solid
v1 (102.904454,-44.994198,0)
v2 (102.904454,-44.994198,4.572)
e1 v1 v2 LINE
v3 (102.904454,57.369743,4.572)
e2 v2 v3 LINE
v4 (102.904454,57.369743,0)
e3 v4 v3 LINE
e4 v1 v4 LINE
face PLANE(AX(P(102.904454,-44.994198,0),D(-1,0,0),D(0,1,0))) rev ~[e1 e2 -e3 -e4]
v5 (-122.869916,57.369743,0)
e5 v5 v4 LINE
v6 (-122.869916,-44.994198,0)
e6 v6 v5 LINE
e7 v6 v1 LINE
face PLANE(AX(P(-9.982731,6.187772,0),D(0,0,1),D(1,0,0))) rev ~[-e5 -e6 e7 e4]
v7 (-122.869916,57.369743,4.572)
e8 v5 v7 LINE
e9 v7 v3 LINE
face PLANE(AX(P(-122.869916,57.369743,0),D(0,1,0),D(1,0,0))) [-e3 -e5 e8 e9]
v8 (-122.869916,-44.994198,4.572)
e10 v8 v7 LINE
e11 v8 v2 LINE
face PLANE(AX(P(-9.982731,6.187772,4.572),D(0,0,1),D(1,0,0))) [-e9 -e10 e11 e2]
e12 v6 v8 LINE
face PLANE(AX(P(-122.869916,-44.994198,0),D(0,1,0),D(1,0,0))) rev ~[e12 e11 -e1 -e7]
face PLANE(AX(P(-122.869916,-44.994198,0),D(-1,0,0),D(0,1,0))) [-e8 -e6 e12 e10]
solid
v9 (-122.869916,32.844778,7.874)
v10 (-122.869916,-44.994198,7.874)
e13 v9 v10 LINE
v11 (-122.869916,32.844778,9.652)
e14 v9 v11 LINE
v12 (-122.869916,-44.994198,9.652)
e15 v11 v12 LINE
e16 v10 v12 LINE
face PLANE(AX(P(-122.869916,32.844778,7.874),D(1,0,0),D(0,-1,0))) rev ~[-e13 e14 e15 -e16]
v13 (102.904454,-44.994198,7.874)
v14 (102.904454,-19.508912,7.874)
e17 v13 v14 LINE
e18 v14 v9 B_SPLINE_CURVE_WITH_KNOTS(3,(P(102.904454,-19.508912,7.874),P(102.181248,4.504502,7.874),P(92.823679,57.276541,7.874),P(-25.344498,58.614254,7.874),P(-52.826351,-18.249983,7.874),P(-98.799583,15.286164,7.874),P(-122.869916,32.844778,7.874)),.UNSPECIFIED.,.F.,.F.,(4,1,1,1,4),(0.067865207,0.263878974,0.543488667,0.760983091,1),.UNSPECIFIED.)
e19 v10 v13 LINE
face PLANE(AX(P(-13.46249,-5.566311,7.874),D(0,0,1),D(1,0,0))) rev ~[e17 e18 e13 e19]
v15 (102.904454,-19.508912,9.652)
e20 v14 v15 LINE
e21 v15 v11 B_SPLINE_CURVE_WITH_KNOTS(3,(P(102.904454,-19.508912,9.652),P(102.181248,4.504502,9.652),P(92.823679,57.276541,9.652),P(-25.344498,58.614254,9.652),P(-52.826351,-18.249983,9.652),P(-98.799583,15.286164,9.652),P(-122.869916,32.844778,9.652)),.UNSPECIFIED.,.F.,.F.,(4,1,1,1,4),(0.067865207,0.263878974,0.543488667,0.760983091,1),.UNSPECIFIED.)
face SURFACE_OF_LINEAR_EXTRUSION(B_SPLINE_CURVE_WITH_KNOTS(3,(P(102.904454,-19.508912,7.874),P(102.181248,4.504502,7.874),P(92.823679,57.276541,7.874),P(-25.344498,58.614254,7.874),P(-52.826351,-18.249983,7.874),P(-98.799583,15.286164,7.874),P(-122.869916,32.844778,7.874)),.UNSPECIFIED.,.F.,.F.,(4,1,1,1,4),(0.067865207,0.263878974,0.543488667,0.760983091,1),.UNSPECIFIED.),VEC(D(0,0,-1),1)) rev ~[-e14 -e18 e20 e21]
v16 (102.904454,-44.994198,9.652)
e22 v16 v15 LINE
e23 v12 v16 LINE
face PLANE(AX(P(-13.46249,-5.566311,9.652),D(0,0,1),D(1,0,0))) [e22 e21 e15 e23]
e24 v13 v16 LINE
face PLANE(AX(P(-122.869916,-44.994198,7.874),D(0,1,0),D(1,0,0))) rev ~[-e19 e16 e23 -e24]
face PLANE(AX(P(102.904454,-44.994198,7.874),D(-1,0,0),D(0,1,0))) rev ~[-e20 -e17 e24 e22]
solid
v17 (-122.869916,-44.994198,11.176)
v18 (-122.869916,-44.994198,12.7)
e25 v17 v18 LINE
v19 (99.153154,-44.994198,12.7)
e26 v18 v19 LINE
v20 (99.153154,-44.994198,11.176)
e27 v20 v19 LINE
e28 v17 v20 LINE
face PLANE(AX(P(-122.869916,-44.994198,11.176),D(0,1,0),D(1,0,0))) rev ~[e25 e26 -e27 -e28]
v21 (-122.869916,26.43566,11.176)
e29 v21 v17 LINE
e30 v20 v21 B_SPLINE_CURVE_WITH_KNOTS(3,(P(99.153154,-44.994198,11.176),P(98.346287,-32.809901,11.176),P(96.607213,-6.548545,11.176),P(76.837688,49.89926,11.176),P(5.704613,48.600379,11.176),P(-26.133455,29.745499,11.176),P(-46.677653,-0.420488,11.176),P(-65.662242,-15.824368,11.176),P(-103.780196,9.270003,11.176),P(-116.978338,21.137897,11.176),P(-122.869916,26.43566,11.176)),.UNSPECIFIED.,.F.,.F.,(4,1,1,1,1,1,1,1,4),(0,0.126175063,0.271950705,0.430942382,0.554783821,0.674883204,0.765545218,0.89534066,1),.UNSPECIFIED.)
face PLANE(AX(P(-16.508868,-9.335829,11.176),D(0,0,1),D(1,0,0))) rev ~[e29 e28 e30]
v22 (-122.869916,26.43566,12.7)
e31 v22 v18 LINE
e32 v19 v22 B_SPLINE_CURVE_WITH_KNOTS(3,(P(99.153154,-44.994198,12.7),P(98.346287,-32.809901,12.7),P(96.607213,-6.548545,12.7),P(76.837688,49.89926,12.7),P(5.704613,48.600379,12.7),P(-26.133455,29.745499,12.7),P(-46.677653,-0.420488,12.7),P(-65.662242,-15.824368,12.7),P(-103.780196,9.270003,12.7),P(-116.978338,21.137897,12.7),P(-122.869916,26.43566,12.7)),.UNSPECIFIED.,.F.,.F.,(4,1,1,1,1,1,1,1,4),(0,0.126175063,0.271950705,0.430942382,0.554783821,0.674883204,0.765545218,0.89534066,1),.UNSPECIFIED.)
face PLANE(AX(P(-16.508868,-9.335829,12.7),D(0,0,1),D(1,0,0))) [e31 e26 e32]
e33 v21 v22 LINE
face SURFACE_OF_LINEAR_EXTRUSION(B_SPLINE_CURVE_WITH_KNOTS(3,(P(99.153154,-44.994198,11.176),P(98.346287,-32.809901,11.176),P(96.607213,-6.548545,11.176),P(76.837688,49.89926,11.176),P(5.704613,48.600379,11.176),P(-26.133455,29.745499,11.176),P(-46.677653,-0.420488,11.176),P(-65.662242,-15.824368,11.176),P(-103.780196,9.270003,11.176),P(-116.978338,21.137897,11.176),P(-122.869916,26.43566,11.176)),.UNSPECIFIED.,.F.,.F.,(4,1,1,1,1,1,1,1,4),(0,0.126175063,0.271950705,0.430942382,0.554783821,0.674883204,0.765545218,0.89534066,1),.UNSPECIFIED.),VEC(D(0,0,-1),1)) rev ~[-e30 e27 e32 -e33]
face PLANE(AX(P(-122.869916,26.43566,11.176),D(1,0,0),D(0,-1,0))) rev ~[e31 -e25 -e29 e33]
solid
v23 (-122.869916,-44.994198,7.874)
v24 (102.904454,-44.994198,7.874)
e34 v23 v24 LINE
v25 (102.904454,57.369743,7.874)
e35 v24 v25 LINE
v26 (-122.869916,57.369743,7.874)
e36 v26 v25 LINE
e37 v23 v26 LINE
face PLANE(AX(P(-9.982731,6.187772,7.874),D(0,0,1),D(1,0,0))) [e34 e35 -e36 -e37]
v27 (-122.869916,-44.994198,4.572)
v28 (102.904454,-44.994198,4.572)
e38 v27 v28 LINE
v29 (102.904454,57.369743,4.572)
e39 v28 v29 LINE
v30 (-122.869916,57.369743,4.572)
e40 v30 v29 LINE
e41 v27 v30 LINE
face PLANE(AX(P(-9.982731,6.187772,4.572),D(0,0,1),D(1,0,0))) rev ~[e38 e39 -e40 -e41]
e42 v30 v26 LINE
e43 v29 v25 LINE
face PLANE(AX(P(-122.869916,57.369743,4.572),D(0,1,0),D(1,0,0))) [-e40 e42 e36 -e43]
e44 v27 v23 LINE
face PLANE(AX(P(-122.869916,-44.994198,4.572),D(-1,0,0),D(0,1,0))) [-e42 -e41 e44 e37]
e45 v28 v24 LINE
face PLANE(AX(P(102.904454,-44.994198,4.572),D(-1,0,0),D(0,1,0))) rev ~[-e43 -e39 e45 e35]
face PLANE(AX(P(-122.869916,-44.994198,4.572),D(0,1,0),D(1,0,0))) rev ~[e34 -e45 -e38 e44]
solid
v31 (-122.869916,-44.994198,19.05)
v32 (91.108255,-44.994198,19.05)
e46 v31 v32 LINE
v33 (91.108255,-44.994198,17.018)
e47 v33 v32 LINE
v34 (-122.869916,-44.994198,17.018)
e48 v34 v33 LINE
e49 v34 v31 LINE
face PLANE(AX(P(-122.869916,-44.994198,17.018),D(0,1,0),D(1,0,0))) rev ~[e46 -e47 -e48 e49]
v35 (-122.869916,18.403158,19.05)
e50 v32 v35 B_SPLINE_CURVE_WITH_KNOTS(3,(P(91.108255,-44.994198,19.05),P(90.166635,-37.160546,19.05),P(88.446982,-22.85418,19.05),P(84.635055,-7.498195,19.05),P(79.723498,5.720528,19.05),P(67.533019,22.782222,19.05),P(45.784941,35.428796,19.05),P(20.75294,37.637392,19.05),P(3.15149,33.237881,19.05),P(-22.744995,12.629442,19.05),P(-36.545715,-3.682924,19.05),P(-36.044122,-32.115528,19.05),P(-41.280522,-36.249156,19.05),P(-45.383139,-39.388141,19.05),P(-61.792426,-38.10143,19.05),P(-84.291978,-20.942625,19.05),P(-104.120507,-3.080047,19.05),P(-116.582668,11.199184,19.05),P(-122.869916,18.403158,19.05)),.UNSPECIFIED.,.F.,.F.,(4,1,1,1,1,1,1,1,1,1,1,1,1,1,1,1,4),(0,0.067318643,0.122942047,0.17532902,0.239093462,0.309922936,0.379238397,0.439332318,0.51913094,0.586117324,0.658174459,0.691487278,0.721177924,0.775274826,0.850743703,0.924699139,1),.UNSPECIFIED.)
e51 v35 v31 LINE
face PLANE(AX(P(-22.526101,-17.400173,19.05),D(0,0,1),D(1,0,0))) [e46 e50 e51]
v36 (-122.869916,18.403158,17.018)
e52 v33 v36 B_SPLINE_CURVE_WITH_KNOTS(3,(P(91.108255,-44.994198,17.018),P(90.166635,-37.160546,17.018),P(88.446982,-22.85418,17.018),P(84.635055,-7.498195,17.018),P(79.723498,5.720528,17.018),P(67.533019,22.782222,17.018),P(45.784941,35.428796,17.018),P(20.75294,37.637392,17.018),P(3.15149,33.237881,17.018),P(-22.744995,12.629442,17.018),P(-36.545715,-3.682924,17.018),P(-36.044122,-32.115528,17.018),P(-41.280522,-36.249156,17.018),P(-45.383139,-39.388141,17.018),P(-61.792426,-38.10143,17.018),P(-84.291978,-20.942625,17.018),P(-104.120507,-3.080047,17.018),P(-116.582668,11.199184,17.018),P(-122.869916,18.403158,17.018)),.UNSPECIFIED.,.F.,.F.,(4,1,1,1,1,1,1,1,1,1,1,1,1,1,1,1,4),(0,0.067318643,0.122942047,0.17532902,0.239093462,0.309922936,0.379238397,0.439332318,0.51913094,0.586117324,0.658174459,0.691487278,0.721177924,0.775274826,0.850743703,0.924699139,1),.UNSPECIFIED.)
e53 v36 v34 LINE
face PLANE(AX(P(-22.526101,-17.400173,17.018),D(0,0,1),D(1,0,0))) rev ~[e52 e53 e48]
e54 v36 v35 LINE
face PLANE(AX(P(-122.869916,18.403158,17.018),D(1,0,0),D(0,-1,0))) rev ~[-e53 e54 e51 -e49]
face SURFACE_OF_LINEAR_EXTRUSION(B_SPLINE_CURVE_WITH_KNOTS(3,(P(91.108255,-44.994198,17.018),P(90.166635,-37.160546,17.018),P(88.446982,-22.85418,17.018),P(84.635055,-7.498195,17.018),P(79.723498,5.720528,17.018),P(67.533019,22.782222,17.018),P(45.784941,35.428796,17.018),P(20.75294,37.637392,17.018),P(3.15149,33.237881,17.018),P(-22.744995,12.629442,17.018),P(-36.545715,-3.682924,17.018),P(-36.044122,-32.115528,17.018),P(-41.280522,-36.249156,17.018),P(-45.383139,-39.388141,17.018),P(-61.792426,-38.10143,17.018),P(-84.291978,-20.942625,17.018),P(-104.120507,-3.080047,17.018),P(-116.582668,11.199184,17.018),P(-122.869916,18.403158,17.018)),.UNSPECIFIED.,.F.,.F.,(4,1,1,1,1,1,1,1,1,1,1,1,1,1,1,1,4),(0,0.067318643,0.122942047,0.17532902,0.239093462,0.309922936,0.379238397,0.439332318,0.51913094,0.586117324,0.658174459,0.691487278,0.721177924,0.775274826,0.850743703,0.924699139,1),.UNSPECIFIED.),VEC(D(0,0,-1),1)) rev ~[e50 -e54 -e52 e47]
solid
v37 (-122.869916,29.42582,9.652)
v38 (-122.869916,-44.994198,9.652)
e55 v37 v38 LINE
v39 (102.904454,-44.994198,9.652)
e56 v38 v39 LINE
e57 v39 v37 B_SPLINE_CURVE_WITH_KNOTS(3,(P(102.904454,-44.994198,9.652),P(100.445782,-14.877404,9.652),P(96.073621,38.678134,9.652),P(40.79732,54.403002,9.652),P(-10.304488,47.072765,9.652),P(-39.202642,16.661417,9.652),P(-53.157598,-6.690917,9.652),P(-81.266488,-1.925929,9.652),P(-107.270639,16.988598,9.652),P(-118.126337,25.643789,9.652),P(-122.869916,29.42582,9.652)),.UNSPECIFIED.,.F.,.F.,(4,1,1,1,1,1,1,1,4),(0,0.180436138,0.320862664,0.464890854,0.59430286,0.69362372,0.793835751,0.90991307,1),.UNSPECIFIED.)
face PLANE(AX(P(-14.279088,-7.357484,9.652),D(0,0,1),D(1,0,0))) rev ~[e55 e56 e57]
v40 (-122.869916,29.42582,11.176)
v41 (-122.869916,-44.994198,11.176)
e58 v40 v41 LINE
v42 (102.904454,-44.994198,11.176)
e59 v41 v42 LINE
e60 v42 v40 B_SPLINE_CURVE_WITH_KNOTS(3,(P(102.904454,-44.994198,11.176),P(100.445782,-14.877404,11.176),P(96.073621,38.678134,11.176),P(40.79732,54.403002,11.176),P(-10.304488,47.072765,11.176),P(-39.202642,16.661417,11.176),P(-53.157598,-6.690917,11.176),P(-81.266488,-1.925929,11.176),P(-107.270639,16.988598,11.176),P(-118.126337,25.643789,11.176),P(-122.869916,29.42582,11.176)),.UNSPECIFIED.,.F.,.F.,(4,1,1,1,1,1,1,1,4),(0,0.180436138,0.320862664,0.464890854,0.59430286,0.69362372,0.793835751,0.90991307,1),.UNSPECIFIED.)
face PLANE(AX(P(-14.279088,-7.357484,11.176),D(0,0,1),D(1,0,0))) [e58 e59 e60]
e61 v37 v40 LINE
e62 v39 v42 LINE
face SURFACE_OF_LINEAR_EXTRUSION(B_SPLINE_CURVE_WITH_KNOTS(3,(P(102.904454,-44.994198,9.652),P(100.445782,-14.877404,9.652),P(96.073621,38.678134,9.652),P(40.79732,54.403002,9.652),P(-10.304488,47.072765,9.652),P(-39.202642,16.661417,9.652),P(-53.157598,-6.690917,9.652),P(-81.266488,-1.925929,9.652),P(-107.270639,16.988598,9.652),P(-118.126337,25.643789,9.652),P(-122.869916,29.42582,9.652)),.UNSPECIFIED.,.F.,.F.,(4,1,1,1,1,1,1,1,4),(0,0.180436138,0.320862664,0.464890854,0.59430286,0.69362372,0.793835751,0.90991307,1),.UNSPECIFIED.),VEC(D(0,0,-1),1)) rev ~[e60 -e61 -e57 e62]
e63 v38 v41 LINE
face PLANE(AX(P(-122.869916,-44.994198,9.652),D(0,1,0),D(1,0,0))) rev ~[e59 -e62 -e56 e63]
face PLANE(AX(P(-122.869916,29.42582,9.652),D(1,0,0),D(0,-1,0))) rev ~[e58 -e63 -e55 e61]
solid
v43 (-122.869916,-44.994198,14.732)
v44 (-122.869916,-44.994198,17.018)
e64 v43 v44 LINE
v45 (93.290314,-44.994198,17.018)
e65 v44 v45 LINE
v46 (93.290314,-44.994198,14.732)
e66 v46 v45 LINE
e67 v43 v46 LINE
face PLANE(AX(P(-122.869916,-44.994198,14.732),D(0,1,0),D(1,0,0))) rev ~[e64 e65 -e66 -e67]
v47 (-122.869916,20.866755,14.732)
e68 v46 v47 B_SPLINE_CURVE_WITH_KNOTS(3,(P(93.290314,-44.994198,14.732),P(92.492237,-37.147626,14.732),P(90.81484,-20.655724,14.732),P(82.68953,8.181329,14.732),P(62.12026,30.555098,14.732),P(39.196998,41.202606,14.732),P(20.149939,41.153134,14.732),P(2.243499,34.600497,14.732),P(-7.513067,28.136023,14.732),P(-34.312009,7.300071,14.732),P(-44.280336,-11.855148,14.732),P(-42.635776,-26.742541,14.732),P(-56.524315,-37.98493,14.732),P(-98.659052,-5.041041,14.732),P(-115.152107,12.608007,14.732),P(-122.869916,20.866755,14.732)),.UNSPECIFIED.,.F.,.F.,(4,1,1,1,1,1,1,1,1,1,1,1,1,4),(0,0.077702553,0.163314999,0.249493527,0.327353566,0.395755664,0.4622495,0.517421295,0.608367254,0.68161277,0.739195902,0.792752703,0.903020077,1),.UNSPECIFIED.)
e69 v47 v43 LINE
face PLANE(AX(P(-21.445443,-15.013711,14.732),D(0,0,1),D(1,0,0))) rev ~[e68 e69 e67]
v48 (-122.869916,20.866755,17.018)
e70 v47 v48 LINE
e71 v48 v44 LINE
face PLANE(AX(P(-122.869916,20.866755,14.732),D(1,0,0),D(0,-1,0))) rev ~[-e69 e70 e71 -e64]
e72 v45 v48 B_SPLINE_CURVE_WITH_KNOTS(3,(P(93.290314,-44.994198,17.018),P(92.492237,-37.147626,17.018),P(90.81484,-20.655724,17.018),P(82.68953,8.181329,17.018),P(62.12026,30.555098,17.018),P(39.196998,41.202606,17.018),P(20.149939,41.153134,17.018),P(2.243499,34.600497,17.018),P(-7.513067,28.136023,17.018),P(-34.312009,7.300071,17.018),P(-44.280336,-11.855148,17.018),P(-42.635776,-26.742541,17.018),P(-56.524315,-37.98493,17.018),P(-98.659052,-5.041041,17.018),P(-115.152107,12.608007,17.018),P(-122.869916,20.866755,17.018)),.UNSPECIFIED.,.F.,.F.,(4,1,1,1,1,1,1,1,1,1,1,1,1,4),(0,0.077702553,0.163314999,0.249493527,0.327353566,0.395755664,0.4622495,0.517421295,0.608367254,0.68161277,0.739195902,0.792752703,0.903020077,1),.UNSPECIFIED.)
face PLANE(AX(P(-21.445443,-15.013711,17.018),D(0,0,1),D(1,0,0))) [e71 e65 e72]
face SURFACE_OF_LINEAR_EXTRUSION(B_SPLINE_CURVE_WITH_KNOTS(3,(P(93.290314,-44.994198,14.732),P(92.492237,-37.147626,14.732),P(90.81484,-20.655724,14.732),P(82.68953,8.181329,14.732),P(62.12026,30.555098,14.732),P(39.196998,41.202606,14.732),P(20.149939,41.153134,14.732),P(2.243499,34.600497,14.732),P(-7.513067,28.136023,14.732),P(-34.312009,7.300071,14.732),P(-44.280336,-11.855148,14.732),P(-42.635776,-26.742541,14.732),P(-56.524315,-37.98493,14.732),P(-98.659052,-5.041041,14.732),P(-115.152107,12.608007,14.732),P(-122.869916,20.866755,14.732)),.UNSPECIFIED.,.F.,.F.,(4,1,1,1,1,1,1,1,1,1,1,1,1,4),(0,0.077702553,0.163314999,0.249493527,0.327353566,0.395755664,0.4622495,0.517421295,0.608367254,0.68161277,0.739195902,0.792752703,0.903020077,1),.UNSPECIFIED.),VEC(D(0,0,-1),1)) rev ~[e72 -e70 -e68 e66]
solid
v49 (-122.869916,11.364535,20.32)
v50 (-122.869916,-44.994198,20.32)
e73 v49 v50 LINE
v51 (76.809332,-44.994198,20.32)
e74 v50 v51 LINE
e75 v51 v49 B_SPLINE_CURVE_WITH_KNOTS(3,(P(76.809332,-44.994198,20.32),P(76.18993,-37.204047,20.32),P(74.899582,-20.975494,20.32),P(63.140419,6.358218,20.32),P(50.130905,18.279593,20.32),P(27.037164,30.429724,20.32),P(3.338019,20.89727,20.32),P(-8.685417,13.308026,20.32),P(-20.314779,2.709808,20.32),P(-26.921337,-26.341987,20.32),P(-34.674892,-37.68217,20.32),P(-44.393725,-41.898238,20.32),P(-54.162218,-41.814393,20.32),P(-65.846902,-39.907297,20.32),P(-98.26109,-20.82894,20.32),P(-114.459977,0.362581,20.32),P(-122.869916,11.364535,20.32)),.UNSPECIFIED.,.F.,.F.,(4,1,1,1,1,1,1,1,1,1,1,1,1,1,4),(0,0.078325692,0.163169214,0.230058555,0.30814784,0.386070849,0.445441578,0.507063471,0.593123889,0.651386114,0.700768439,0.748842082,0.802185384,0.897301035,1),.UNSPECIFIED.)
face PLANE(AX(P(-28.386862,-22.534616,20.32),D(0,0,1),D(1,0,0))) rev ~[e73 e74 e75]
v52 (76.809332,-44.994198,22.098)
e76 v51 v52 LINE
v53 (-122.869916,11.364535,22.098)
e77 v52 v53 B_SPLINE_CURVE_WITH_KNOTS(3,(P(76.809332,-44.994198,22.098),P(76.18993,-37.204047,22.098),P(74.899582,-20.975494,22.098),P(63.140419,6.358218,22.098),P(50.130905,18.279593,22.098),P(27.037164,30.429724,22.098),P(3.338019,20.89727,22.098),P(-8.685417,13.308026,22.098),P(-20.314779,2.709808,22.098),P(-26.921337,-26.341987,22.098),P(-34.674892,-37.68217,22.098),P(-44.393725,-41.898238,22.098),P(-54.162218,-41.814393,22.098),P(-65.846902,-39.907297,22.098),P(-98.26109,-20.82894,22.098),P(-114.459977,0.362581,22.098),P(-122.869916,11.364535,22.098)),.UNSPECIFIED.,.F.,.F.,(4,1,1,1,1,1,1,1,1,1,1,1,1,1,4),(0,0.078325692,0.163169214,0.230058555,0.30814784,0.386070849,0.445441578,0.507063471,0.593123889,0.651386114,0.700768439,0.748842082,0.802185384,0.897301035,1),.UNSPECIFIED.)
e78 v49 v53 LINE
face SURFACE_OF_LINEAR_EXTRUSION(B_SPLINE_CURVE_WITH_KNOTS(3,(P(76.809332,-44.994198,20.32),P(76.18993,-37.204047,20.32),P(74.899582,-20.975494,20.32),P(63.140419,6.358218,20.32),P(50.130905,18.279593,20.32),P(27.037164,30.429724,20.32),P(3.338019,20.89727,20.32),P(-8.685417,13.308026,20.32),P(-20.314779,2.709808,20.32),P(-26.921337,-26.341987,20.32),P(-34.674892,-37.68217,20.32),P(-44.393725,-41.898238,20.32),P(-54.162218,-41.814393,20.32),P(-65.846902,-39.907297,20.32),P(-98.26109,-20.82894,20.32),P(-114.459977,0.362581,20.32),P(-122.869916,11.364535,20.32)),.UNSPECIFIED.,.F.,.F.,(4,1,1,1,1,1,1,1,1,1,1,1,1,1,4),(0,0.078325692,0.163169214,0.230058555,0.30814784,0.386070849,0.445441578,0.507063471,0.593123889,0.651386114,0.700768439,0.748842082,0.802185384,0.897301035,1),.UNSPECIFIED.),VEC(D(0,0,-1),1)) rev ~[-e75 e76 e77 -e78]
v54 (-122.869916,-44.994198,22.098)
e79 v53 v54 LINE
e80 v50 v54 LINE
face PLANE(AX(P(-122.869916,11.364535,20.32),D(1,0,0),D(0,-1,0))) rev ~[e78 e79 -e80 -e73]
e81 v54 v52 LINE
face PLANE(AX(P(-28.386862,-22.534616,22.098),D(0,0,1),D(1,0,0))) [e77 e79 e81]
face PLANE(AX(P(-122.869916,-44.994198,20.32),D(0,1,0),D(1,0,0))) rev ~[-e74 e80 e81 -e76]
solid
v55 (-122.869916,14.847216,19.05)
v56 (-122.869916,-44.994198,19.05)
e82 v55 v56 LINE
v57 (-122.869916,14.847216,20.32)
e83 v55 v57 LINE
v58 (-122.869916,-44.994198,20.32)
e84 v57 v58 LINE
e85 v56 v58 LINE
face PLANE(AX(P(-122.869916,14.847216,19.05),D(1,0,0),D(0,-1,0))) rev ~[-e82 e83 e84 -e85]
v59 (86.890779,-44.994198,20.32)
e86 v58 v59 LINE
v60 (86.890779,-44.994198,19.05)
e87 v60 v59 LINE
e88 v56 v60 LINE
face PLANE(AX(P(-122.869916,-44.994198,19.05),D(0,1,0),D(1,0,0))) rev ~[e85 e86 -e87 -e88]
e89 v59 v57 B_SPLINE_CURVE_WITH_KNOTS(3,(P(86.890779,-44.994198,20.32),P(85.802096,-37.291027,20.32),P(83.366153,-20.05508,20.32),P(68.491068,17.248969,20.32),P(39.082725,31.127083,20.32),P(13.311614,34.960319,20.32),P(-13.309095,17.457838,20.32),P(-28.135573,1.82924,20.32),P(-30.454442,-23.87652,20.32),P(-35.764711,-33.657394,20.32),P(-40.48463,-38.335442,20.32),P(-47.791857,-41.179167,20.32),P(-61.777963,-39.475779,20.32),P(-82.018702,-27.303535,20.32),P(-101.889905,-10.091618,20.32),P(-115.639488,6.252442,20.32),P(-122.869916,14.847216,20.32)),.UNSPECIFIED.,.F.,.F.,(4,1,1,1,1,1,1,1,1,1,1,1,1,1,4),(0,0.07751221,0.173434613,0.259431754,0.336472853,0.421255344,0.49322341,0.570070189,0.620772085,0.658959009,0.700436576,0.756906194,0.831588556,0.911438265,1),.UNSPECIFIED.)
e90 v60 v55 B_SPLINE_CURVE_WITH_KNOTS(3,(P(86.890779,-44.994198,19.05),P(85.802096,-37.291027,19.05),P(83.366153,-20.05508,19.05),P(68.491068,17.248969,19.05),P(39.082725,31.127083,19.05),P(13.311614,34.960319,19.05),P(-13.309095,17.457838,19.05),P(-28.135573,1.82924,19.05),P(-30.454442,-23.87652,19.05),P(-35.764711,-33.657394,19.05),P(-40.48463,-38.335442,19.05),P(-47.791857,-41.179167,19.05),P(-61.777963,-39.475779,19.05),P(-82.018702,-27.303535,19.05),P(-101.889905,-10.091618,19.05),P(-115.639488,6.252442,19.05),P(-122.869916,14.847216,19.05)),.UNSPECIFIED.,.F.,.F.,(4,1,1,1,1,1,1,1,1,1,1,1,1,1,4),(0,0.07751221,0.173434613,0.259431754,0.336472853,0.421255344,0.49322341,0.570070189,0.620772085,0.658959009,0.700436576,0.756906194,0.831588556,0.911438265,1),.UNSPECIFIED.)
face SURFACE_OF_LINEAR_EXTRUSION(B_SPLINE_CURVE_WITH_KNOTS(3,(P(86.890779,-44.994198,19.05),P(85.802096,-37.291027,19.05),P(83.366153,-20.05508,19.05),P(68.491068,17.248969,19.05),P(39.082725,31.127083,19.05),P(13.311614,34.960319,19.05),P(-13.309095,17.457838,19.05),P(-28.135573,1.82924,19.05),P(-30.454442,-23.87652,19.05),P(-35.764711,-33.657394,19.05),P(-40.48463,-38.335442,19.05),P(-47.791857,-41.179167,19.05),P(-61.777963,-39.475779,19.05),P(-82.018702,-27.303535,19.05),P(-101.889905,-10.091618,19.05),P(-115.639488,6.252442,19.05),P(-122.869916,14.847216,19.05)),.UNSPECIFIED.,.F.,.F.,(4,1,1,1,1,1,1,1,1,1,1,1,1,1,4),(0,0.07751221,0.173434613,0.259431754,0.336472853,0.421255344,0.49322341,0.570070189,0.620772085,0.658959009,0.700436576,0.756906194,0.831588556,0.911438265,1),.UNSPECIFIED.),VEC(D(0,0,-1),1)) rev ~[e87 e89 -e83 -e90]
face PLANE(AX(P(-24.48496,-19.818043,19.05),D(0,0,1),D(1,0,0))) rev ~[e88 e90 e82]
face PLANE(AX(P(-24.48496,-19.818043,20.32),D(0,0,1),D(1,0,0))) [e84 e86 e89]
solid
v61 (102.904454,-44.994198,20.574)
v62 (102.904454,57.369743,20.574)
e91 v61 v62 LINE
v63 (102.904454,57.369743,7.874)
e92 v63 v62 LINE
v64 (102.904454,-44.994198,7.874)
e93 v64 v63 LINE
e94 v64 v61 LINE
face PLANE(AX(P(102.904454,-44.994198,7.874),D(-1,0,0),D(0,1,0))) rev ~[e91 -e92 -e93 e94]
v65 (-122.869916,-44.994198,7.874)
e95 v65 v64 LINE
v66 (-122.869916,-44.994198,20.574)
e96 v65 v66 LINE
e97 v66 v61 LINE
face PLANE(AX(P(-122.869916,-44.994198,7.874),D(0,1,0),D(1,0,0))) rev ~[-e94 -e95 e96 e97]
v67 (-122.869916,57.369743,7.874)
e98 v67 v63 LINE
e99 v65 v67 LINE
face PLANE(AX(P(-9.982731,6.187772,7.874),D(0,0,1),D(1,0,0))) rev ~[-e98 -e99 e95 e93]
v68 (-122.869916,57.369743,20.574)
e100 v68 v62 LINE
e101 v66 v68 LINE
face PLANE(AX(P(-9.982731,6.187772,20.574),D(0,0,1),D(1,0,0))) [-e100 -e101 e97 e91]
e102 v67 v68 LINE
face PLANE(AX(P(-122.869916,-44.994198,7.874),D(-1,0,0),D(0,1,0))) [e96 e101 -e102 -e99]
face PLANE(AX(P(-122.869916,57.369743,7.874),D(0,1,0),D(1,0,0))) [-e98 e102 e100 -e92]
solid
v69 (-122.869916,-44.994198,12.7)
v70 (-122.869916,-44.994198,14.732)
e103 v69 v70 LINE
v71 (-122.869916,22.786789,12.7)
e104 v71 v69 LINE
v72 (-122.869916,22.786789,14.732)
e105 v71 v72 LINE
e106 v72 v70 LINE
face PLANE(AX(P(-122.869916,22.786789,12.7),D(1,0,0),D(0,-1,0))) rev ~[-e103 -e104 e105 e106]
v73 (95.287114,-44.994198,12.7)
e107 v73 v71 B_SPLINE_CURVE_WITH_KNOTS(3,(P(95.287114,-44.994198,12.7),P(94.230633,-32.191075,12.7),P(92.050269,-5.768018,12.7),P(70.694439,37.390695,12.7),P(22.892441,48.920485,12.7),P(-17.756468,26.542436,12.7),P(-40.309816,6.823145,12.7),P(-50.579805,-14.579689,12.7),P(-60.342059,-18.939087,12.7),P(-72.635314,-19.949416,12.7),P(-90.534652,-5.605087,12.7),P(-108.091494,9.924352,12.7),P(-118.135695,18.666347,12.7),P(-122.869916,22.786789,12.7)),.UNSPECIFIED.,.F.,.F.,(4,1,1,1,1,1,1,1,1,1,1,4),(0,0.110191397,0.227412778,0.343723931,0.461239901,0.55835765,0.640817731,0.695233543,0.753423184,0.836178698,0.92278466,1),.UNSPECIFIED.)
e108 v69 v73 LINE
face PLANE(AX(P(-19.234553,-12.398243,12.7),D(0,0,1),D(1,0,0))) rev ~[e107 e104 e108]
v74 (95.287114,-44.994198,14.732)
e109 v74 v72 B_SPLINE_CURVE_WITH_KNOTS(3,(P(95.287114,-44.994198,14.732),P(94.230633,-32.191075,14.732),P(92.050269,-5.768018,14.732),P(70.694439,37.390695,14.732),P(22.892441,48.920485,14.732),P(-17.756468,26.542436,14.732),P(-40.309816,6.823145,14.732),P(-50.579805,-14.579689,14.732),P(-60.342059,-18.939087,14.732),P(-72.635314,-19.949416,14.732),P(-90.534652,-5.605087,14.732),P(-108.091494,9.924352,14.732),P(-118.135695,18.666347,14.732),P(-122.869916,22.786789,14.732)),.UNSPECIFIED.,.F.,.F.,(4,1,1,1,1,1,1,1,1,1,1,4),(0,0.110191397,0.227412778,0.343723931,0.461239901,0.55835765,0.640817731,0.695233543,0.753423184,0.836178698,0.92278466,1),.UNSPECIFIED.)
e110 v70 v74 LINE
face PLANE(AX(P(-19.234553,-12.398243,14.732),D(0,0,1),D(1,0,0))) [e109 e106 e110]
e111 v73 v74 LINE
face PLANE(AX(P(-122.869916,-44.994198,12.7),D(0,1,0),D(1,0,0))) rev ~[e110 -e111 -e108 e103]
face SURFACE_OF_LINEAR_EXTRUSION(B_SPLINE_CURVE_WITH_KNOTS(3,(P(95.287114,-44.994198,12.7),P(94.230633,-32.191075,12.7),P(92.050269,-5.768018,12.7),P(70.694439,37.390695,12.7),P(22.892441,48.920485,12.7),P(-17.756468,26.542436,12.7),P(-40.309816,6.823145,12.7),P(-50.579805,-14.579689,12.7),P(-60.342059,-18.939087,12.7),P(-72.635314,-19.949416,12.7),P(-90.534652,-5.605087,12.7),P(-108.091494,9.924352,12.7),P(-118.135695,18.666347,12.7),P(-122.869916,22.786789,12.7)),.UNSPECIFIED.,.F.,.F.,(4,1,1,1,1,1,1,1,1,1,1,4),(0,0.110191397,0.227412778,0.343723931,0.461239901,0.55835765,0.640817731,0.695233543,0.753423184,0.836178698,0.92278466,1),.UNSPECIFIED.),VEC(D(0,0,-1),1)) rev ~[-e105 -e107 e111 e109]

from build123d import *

# Parameters (mm, degrees)
F0_W      = 225.7743701339
F0_H      = 102.3639403284
F1_DEPTH  = 4.572
F2_DEPTH  = 3.302
F4_DEPTH  = 1.778
F6_DEPTH  = 1.524
F8_DEPTH  = 1.524
F10_DEPTH = 2.032
F12_DEPTH = 2.286
F14_DEPTH = 2.032
F16_DEPTH = 1.27
F18_DEPTH = 1.778
F19_DEPTH = 12.7


with BuildPart() as f1:
    # F0 (on Top) → F1 (new body)
    with BuildSketch(Plane.XY):
        with Locations((-9.9827311933, 6.1877723783)):
            Rectangle(F0_W, F0_H)
    extrude(amount=F1_DEPTH)


with BuildPart() as f2:
    # F2 (new): a face of the model
    f2_faces = [f1.part.faces().sort_by_distance(p)[0] for p in [
        (-9.9827311933, 6.1877723783, 4.572),
    ]]
    extrude(f2_faces, amount=F2_DEPTH)


with BuildPart() as f4:
    # F3 (on face) → F4 (new body)
    with BuildSketch(Plane.XY.offset(7.874)):
        with BuildLine():
            Line((-122.8699162602, -44.9941977859), (102.9044538736, -44.9941977859))
            Line((102.9044538736, -44.9941977859), (102.9044538736, -19.5089115048))
            add(Edge.make_bspline(
                [(102.9044538736, -19.5089115048), (102.1812480597, 4.5045019065), (92.8236790882, 57.2765409067), (-25.3444978127, 58.614254318), (-52.8263507974, -18.2499830344), (-98.7995831296, 15.2861642389), (-122.8699162602, 32.8447781503)],
                knots=[0.0678652066, 0.0678652066, 0.0678652066, 0.0678652066, 0.2638789744, 0.5434886666, 0.7609830913, 1, 1, 1, 1], degree=3))
            Line((-122.8699162602, 32.8447781503), (-122.8699162602, -44.9941977859))
        make_face()
    extrude(amount=F4_DEPTH)


with BuildPart() as f6:
    # F5 (on face) → F6 (new body)
    with BuildSketch(Plane.XY.offset(9.652)):
        with BuildLine():
            Line((-122.8699162602, -44.9941977859), (102.9044538736, -44.9941977859))
            add(Edge.make_bspline(
                [(102.9044538736, -44.9941977859), (100.4457821585, -14.8774043592), (96.0736205313, 38.6781344883), (40.7973204242, 54.4030015041), (-10.3044880764, 47.0727645172), (-39.2026420291, 16.6614174954), (-53.157598453, -6.6909166581), (-81.266488115, -1.9259286723), (-107.2706394158, 16.9885983691), (-118.1263369768, 25.6437893446), (-122.8699162602, 29.4258203357)],
                knots=[0, 0, 0, 0, 0.1804361375, 0.3208626641, 0.464890854, 0.5943028599, 0.6936237202, 0.7938357508, 0.9099130704, 1, 1, 1, 1], degree=3))
            Line((-122.8699162602, 29.4258203357), (-122.8699162602, -44.9941977859))
        make_face()
    extrude(amount=F6_DEPTH)


with BuildPart() as f8:
    # F7 (on face) → F8 (new body)
    with BuildSketch(Plane.XY.offset(11.176)):
        with BuildLine():
            Line((-122.8699162602, -44.9941977859), (99.1531535983, -44.9941977859))
            add(Edge.make_bspline(
                [(99.1531535983, -44.9941977859), (98.3462873382, -32.8099007124), (96.6072127286, -6.5485452393), (76.8376882373, 49.8992602273), (5.7046126193, 48.6003790216), (-26.1334547846, 29.7454987309), (-46.6776533703, -0.4204880214), (-65.6622424164, -15.8243684106), (-103.7801961143, 9.2700030071), (-116.9783376211, 21.1378968754), (-122.8699162602, 26.4356601983)],
                knots=[0, 0, 0, 0, 0.126175063, 0.2719507052, 0.4309423817, 0.5547838207, 0.6748832042, 0.7655452181, 0.8953406596, 1, 1, 1, 1], degree=3))
            Line((-122.8699162602, 26.4356601983), (-122.8699162602, -44.9941977859))
        make_face()
    extrude(amount=F8_DEPTH)


with BuildPart() as f10:
    # F9 (on face) → F10 (new body)
    with BuildSketch(Plane.XY.offset(12.7)):
        with BuildLine():
            Line((-122.8699162602, -44.9941977859), (95.2871143818, -44.9941977859))
            add(Edge.make_bspline(
                [(95.2871143818, -44.9941977859), (94.230633051, -32.1910754819), (92.0502690594, -5.7680180775), (70.6944387756, 37.3906945191), (22.8924405273, 48.9204848198), (-17.7564680323, 26.5424362635), (-40.3098158111, 6.823144713), (-50.5798049536, -14.5796887352), (-60.3420585569, -18.9390870067), (-72.6353135009, -19.9494157758), (-90.5346519754, -5.6050874071), (-108.0914940406, 9.9243516189), (-118.1356945889, 18.6663468796), (-122.8699162602, 22.7867886424)],
                knots=[0, 0, 0, 0, 0.1101913973, 0.2274127785, 0.3437239306, 0.4612399009, 0.5583576504, 0.6408177315, 0.6952335429, 0.7534231844, 0.8361786978, 0.9227846601, 1, 1, 1, 1], degree=3))
            Line((-122.8699162602, 22.7867886424), (-122.8699162602, -44.9941977859))
        make_face()
    extrude(amount=F10_DEPTH)


with BuildPart() as f12:
    # F11 (on face) → F12 (new body)
    with BuildSketch(Plane.XY.offset(14.732)):
        with BuildLine():
            Line((-122.8699162602, -44.9941977859), (93.2903140783, -44.9941977859))
            add(Edge.make_bspline(
                [(93.2903140783, -44.9941977859), (92.4922366, -37.1476258303), (90.8148396883, -20.6557238231), (82.6895303539, 8.1813289049), (62.1202602641, 30.5550976504), (39.1969981915, 41.202606034), (20.1499390603, 41.1531335199), (2.2434991578, 34.6004972424), (-7.5130665737, 28.1360225249), (-34.3120085152, 7.3000712942), (-44.280336081, -11.855147704), (-42.6357763632, -26.7425411619), (-56.5243145658, -37.9849299587), (-98.6590515699, -5.0410408762), (-115.1521065603, 12.6080069404), (-122.8699162602, 20.8667553961)],
                knots=[0, 0, 0, 0, 0.077702553, 0.1633149989, 0.2494935267, 0.3273535658, 0.3957556638, 0.4622495003, 0.5174212946, 0.6083672541, 0.6816127701, 0.7391959018, 0.7927527033, 0.9030200774, 1, 1, 1, 1], degree=3))
            Line((-122.8699162602, 20.8667553961), (-122.8699162602, -44.9941977859))
        make_face()
    extrude(amount=F12_DEPTH)


with BuildPart() as f14:
    # F13 (on face) → F14 (new body)
    with BuildSketch(Plane.XY.offset(17.018)):
        with BuildLine():
            Line((-122.8699162602, -44.9941977859), (91.1082550883, -44.9941977859))
            add(Edge.make_bspline(
                [(91.1082550883, -44.9941977859), (90.1666350737, -37.1605463655), (88.4469822688, -22.8541802857), (84.6350548682, -7.4981954526), (79.7234976273, 5.7205284578), (67.5330194837, 22.7822223557), (45.7849410542, 35.4287956259), (20.7529404056, 37.6373923869), (3.1514895376, 33.2378809389), (-22.7449954943, 12.6294423797), (-36.5457150796, -3.6829242816), (-36.0441219029, -32.1155276801), (-41.2805215066, -36.2491560078), (-45.3831391339, -39.3881410702), (-61.7924264411, -38.1014300393), (-84.2919784988, -20.9426246528), (-104.1205073866, -3.0800471644), (-116.5826678738, 11.199184104), (-122.8699162602, 18.4031575918)],
                knots=[0, 0, 0, 0, 0.0673186426, 0.1229420475, 0.17532902, 0.2390934623, 0.3099229356, 0.3792383967, 0.4393323177, 0.5191309405, 0.586117324, 0.6581744592, 0.6914872783, 0.7211779238, 0.7752748257, 0.8507437028, 0.9246991391, 1, 1, 1, 1], degree=3))
            Line((-122.8699162602, 18.4031575918), (-122.8699162602, -44.9941977859))
        make_face()
    extrude(amount=F14_DEPTH)


with BuildPart() as f16:
    # F15 (on face) → F16 (new body)
    with BuildSketch(Plane.XY.offset(19.05)):
        with BuildLine():
            Line((-122.8699162602, -44.9941977859), (86.8907794356, -44.9941977859))
            add(Edge.make_bspline(
                [(86.8907794356, -44.9941977859), (85.8020963771, -37.2910272725), (83.3661533878, -20.0550796201), (68.4910682008, 17.2489691054), (39.0827247662, 31.1270833191), (13.3116135569, 34.9603186092), (-13.3090951214, 17.4578379962), (-28.1355729496, 1.8292398493), (-30.454441934, -23.8765198716), (-35.7647109277, -33.6573939225), (-40.4846303572, -38.3354422119), (-47.791857355, -41.1791668666), (-61.7779634925, -39.4757791326), (-82.0187020894, -27.3035351106), (-101.8899049096, -10.0916177475), (-115.6394877139, 6.252442159), (-122.8699162602, 14.8472161964)],
                knots=[0, 0, 0, 0, 0.0775122101, 0.1734346129, 0.2594317537, 0.3364728531, 0.4212553437, 0.49322341, 0.5700701894, 0.620772085, 0.6589590093, 0.7004365756, 0.7569061944, 0.8315885559, 0.9114382647, 1, 1, 1, 1], degree=3))
            Line((-122.8699162602, 14.8472161964), (-122.8699162602, -44.9941977859))
        make_face()
    extrude(amount=F16_DEPTH)


with BuildPart() as f18:
    # F17 (on face) → F18 (new body)
    with BuildSketch(Plane.XY.offset(20.32)):
        with BuildLine():
            Line((-122.8699162602, -44.9941977859), (76.8093317747, -44.9941977859))
            add(Edge.make_bspline(
                [(76.8093317747, -44.9941977859), (76.1899295315, -37.2040474061), (74.8995818274, -20.975493557), (63.1404192524, 6.3582181477), (50.1309047229, 18.2795927319), (27.0371637019, 30.4297238736), (3.338018857, 20.8972702011), (-8.6854168055, 13.3080260402), (-20.3147793434, 2.7098082623), (-26.9213370581, -26.3419872733), (-34.6748919665, -37.6821695408), (-44.3937249552, -41.8982382847), (-54.1622178305, -41.8143929756), (-65.8469017694, -39.9072973895), (-98.2610902143, -20.8289398151), (-114.4599769931, 0.362581451), (-122.8699162602, 11.3645354286)],
                knots=[0, 0, 0, 0, 0.0783256923, 0.163169214, 0.2300585549, 0.3081478403, 0.3860708494, 0.4454415776, 0.5070634715, 0.5931238889, 0.6513861144, 0.7007684388, 0.7488420823, 0.8021853835, 0.8973010347, 1, 1, 1, 1], degree=3))
            Line((-122.8699162602, 11.3645354286), (-122.8699162602, -44.9941977859))
        make_face()
    extrude(amount=F18_DEPTH)


with BuildPart() as f19:
    # F19 (new): a face of the model
    f19_faces = [f2.part.faces().sort_by_distance(p)[0] for p in [
        (-9.9827311933, 6.1877723783, 7.874),
    ]]
    extrude(f19_faces, amount=F19_DEPTH)


solid = Compound([f1.part, f2.part, f4.part, f6.part, f8.part, f10.part, f12.part, f14.part, f16.part, f18.part, f19.part])
